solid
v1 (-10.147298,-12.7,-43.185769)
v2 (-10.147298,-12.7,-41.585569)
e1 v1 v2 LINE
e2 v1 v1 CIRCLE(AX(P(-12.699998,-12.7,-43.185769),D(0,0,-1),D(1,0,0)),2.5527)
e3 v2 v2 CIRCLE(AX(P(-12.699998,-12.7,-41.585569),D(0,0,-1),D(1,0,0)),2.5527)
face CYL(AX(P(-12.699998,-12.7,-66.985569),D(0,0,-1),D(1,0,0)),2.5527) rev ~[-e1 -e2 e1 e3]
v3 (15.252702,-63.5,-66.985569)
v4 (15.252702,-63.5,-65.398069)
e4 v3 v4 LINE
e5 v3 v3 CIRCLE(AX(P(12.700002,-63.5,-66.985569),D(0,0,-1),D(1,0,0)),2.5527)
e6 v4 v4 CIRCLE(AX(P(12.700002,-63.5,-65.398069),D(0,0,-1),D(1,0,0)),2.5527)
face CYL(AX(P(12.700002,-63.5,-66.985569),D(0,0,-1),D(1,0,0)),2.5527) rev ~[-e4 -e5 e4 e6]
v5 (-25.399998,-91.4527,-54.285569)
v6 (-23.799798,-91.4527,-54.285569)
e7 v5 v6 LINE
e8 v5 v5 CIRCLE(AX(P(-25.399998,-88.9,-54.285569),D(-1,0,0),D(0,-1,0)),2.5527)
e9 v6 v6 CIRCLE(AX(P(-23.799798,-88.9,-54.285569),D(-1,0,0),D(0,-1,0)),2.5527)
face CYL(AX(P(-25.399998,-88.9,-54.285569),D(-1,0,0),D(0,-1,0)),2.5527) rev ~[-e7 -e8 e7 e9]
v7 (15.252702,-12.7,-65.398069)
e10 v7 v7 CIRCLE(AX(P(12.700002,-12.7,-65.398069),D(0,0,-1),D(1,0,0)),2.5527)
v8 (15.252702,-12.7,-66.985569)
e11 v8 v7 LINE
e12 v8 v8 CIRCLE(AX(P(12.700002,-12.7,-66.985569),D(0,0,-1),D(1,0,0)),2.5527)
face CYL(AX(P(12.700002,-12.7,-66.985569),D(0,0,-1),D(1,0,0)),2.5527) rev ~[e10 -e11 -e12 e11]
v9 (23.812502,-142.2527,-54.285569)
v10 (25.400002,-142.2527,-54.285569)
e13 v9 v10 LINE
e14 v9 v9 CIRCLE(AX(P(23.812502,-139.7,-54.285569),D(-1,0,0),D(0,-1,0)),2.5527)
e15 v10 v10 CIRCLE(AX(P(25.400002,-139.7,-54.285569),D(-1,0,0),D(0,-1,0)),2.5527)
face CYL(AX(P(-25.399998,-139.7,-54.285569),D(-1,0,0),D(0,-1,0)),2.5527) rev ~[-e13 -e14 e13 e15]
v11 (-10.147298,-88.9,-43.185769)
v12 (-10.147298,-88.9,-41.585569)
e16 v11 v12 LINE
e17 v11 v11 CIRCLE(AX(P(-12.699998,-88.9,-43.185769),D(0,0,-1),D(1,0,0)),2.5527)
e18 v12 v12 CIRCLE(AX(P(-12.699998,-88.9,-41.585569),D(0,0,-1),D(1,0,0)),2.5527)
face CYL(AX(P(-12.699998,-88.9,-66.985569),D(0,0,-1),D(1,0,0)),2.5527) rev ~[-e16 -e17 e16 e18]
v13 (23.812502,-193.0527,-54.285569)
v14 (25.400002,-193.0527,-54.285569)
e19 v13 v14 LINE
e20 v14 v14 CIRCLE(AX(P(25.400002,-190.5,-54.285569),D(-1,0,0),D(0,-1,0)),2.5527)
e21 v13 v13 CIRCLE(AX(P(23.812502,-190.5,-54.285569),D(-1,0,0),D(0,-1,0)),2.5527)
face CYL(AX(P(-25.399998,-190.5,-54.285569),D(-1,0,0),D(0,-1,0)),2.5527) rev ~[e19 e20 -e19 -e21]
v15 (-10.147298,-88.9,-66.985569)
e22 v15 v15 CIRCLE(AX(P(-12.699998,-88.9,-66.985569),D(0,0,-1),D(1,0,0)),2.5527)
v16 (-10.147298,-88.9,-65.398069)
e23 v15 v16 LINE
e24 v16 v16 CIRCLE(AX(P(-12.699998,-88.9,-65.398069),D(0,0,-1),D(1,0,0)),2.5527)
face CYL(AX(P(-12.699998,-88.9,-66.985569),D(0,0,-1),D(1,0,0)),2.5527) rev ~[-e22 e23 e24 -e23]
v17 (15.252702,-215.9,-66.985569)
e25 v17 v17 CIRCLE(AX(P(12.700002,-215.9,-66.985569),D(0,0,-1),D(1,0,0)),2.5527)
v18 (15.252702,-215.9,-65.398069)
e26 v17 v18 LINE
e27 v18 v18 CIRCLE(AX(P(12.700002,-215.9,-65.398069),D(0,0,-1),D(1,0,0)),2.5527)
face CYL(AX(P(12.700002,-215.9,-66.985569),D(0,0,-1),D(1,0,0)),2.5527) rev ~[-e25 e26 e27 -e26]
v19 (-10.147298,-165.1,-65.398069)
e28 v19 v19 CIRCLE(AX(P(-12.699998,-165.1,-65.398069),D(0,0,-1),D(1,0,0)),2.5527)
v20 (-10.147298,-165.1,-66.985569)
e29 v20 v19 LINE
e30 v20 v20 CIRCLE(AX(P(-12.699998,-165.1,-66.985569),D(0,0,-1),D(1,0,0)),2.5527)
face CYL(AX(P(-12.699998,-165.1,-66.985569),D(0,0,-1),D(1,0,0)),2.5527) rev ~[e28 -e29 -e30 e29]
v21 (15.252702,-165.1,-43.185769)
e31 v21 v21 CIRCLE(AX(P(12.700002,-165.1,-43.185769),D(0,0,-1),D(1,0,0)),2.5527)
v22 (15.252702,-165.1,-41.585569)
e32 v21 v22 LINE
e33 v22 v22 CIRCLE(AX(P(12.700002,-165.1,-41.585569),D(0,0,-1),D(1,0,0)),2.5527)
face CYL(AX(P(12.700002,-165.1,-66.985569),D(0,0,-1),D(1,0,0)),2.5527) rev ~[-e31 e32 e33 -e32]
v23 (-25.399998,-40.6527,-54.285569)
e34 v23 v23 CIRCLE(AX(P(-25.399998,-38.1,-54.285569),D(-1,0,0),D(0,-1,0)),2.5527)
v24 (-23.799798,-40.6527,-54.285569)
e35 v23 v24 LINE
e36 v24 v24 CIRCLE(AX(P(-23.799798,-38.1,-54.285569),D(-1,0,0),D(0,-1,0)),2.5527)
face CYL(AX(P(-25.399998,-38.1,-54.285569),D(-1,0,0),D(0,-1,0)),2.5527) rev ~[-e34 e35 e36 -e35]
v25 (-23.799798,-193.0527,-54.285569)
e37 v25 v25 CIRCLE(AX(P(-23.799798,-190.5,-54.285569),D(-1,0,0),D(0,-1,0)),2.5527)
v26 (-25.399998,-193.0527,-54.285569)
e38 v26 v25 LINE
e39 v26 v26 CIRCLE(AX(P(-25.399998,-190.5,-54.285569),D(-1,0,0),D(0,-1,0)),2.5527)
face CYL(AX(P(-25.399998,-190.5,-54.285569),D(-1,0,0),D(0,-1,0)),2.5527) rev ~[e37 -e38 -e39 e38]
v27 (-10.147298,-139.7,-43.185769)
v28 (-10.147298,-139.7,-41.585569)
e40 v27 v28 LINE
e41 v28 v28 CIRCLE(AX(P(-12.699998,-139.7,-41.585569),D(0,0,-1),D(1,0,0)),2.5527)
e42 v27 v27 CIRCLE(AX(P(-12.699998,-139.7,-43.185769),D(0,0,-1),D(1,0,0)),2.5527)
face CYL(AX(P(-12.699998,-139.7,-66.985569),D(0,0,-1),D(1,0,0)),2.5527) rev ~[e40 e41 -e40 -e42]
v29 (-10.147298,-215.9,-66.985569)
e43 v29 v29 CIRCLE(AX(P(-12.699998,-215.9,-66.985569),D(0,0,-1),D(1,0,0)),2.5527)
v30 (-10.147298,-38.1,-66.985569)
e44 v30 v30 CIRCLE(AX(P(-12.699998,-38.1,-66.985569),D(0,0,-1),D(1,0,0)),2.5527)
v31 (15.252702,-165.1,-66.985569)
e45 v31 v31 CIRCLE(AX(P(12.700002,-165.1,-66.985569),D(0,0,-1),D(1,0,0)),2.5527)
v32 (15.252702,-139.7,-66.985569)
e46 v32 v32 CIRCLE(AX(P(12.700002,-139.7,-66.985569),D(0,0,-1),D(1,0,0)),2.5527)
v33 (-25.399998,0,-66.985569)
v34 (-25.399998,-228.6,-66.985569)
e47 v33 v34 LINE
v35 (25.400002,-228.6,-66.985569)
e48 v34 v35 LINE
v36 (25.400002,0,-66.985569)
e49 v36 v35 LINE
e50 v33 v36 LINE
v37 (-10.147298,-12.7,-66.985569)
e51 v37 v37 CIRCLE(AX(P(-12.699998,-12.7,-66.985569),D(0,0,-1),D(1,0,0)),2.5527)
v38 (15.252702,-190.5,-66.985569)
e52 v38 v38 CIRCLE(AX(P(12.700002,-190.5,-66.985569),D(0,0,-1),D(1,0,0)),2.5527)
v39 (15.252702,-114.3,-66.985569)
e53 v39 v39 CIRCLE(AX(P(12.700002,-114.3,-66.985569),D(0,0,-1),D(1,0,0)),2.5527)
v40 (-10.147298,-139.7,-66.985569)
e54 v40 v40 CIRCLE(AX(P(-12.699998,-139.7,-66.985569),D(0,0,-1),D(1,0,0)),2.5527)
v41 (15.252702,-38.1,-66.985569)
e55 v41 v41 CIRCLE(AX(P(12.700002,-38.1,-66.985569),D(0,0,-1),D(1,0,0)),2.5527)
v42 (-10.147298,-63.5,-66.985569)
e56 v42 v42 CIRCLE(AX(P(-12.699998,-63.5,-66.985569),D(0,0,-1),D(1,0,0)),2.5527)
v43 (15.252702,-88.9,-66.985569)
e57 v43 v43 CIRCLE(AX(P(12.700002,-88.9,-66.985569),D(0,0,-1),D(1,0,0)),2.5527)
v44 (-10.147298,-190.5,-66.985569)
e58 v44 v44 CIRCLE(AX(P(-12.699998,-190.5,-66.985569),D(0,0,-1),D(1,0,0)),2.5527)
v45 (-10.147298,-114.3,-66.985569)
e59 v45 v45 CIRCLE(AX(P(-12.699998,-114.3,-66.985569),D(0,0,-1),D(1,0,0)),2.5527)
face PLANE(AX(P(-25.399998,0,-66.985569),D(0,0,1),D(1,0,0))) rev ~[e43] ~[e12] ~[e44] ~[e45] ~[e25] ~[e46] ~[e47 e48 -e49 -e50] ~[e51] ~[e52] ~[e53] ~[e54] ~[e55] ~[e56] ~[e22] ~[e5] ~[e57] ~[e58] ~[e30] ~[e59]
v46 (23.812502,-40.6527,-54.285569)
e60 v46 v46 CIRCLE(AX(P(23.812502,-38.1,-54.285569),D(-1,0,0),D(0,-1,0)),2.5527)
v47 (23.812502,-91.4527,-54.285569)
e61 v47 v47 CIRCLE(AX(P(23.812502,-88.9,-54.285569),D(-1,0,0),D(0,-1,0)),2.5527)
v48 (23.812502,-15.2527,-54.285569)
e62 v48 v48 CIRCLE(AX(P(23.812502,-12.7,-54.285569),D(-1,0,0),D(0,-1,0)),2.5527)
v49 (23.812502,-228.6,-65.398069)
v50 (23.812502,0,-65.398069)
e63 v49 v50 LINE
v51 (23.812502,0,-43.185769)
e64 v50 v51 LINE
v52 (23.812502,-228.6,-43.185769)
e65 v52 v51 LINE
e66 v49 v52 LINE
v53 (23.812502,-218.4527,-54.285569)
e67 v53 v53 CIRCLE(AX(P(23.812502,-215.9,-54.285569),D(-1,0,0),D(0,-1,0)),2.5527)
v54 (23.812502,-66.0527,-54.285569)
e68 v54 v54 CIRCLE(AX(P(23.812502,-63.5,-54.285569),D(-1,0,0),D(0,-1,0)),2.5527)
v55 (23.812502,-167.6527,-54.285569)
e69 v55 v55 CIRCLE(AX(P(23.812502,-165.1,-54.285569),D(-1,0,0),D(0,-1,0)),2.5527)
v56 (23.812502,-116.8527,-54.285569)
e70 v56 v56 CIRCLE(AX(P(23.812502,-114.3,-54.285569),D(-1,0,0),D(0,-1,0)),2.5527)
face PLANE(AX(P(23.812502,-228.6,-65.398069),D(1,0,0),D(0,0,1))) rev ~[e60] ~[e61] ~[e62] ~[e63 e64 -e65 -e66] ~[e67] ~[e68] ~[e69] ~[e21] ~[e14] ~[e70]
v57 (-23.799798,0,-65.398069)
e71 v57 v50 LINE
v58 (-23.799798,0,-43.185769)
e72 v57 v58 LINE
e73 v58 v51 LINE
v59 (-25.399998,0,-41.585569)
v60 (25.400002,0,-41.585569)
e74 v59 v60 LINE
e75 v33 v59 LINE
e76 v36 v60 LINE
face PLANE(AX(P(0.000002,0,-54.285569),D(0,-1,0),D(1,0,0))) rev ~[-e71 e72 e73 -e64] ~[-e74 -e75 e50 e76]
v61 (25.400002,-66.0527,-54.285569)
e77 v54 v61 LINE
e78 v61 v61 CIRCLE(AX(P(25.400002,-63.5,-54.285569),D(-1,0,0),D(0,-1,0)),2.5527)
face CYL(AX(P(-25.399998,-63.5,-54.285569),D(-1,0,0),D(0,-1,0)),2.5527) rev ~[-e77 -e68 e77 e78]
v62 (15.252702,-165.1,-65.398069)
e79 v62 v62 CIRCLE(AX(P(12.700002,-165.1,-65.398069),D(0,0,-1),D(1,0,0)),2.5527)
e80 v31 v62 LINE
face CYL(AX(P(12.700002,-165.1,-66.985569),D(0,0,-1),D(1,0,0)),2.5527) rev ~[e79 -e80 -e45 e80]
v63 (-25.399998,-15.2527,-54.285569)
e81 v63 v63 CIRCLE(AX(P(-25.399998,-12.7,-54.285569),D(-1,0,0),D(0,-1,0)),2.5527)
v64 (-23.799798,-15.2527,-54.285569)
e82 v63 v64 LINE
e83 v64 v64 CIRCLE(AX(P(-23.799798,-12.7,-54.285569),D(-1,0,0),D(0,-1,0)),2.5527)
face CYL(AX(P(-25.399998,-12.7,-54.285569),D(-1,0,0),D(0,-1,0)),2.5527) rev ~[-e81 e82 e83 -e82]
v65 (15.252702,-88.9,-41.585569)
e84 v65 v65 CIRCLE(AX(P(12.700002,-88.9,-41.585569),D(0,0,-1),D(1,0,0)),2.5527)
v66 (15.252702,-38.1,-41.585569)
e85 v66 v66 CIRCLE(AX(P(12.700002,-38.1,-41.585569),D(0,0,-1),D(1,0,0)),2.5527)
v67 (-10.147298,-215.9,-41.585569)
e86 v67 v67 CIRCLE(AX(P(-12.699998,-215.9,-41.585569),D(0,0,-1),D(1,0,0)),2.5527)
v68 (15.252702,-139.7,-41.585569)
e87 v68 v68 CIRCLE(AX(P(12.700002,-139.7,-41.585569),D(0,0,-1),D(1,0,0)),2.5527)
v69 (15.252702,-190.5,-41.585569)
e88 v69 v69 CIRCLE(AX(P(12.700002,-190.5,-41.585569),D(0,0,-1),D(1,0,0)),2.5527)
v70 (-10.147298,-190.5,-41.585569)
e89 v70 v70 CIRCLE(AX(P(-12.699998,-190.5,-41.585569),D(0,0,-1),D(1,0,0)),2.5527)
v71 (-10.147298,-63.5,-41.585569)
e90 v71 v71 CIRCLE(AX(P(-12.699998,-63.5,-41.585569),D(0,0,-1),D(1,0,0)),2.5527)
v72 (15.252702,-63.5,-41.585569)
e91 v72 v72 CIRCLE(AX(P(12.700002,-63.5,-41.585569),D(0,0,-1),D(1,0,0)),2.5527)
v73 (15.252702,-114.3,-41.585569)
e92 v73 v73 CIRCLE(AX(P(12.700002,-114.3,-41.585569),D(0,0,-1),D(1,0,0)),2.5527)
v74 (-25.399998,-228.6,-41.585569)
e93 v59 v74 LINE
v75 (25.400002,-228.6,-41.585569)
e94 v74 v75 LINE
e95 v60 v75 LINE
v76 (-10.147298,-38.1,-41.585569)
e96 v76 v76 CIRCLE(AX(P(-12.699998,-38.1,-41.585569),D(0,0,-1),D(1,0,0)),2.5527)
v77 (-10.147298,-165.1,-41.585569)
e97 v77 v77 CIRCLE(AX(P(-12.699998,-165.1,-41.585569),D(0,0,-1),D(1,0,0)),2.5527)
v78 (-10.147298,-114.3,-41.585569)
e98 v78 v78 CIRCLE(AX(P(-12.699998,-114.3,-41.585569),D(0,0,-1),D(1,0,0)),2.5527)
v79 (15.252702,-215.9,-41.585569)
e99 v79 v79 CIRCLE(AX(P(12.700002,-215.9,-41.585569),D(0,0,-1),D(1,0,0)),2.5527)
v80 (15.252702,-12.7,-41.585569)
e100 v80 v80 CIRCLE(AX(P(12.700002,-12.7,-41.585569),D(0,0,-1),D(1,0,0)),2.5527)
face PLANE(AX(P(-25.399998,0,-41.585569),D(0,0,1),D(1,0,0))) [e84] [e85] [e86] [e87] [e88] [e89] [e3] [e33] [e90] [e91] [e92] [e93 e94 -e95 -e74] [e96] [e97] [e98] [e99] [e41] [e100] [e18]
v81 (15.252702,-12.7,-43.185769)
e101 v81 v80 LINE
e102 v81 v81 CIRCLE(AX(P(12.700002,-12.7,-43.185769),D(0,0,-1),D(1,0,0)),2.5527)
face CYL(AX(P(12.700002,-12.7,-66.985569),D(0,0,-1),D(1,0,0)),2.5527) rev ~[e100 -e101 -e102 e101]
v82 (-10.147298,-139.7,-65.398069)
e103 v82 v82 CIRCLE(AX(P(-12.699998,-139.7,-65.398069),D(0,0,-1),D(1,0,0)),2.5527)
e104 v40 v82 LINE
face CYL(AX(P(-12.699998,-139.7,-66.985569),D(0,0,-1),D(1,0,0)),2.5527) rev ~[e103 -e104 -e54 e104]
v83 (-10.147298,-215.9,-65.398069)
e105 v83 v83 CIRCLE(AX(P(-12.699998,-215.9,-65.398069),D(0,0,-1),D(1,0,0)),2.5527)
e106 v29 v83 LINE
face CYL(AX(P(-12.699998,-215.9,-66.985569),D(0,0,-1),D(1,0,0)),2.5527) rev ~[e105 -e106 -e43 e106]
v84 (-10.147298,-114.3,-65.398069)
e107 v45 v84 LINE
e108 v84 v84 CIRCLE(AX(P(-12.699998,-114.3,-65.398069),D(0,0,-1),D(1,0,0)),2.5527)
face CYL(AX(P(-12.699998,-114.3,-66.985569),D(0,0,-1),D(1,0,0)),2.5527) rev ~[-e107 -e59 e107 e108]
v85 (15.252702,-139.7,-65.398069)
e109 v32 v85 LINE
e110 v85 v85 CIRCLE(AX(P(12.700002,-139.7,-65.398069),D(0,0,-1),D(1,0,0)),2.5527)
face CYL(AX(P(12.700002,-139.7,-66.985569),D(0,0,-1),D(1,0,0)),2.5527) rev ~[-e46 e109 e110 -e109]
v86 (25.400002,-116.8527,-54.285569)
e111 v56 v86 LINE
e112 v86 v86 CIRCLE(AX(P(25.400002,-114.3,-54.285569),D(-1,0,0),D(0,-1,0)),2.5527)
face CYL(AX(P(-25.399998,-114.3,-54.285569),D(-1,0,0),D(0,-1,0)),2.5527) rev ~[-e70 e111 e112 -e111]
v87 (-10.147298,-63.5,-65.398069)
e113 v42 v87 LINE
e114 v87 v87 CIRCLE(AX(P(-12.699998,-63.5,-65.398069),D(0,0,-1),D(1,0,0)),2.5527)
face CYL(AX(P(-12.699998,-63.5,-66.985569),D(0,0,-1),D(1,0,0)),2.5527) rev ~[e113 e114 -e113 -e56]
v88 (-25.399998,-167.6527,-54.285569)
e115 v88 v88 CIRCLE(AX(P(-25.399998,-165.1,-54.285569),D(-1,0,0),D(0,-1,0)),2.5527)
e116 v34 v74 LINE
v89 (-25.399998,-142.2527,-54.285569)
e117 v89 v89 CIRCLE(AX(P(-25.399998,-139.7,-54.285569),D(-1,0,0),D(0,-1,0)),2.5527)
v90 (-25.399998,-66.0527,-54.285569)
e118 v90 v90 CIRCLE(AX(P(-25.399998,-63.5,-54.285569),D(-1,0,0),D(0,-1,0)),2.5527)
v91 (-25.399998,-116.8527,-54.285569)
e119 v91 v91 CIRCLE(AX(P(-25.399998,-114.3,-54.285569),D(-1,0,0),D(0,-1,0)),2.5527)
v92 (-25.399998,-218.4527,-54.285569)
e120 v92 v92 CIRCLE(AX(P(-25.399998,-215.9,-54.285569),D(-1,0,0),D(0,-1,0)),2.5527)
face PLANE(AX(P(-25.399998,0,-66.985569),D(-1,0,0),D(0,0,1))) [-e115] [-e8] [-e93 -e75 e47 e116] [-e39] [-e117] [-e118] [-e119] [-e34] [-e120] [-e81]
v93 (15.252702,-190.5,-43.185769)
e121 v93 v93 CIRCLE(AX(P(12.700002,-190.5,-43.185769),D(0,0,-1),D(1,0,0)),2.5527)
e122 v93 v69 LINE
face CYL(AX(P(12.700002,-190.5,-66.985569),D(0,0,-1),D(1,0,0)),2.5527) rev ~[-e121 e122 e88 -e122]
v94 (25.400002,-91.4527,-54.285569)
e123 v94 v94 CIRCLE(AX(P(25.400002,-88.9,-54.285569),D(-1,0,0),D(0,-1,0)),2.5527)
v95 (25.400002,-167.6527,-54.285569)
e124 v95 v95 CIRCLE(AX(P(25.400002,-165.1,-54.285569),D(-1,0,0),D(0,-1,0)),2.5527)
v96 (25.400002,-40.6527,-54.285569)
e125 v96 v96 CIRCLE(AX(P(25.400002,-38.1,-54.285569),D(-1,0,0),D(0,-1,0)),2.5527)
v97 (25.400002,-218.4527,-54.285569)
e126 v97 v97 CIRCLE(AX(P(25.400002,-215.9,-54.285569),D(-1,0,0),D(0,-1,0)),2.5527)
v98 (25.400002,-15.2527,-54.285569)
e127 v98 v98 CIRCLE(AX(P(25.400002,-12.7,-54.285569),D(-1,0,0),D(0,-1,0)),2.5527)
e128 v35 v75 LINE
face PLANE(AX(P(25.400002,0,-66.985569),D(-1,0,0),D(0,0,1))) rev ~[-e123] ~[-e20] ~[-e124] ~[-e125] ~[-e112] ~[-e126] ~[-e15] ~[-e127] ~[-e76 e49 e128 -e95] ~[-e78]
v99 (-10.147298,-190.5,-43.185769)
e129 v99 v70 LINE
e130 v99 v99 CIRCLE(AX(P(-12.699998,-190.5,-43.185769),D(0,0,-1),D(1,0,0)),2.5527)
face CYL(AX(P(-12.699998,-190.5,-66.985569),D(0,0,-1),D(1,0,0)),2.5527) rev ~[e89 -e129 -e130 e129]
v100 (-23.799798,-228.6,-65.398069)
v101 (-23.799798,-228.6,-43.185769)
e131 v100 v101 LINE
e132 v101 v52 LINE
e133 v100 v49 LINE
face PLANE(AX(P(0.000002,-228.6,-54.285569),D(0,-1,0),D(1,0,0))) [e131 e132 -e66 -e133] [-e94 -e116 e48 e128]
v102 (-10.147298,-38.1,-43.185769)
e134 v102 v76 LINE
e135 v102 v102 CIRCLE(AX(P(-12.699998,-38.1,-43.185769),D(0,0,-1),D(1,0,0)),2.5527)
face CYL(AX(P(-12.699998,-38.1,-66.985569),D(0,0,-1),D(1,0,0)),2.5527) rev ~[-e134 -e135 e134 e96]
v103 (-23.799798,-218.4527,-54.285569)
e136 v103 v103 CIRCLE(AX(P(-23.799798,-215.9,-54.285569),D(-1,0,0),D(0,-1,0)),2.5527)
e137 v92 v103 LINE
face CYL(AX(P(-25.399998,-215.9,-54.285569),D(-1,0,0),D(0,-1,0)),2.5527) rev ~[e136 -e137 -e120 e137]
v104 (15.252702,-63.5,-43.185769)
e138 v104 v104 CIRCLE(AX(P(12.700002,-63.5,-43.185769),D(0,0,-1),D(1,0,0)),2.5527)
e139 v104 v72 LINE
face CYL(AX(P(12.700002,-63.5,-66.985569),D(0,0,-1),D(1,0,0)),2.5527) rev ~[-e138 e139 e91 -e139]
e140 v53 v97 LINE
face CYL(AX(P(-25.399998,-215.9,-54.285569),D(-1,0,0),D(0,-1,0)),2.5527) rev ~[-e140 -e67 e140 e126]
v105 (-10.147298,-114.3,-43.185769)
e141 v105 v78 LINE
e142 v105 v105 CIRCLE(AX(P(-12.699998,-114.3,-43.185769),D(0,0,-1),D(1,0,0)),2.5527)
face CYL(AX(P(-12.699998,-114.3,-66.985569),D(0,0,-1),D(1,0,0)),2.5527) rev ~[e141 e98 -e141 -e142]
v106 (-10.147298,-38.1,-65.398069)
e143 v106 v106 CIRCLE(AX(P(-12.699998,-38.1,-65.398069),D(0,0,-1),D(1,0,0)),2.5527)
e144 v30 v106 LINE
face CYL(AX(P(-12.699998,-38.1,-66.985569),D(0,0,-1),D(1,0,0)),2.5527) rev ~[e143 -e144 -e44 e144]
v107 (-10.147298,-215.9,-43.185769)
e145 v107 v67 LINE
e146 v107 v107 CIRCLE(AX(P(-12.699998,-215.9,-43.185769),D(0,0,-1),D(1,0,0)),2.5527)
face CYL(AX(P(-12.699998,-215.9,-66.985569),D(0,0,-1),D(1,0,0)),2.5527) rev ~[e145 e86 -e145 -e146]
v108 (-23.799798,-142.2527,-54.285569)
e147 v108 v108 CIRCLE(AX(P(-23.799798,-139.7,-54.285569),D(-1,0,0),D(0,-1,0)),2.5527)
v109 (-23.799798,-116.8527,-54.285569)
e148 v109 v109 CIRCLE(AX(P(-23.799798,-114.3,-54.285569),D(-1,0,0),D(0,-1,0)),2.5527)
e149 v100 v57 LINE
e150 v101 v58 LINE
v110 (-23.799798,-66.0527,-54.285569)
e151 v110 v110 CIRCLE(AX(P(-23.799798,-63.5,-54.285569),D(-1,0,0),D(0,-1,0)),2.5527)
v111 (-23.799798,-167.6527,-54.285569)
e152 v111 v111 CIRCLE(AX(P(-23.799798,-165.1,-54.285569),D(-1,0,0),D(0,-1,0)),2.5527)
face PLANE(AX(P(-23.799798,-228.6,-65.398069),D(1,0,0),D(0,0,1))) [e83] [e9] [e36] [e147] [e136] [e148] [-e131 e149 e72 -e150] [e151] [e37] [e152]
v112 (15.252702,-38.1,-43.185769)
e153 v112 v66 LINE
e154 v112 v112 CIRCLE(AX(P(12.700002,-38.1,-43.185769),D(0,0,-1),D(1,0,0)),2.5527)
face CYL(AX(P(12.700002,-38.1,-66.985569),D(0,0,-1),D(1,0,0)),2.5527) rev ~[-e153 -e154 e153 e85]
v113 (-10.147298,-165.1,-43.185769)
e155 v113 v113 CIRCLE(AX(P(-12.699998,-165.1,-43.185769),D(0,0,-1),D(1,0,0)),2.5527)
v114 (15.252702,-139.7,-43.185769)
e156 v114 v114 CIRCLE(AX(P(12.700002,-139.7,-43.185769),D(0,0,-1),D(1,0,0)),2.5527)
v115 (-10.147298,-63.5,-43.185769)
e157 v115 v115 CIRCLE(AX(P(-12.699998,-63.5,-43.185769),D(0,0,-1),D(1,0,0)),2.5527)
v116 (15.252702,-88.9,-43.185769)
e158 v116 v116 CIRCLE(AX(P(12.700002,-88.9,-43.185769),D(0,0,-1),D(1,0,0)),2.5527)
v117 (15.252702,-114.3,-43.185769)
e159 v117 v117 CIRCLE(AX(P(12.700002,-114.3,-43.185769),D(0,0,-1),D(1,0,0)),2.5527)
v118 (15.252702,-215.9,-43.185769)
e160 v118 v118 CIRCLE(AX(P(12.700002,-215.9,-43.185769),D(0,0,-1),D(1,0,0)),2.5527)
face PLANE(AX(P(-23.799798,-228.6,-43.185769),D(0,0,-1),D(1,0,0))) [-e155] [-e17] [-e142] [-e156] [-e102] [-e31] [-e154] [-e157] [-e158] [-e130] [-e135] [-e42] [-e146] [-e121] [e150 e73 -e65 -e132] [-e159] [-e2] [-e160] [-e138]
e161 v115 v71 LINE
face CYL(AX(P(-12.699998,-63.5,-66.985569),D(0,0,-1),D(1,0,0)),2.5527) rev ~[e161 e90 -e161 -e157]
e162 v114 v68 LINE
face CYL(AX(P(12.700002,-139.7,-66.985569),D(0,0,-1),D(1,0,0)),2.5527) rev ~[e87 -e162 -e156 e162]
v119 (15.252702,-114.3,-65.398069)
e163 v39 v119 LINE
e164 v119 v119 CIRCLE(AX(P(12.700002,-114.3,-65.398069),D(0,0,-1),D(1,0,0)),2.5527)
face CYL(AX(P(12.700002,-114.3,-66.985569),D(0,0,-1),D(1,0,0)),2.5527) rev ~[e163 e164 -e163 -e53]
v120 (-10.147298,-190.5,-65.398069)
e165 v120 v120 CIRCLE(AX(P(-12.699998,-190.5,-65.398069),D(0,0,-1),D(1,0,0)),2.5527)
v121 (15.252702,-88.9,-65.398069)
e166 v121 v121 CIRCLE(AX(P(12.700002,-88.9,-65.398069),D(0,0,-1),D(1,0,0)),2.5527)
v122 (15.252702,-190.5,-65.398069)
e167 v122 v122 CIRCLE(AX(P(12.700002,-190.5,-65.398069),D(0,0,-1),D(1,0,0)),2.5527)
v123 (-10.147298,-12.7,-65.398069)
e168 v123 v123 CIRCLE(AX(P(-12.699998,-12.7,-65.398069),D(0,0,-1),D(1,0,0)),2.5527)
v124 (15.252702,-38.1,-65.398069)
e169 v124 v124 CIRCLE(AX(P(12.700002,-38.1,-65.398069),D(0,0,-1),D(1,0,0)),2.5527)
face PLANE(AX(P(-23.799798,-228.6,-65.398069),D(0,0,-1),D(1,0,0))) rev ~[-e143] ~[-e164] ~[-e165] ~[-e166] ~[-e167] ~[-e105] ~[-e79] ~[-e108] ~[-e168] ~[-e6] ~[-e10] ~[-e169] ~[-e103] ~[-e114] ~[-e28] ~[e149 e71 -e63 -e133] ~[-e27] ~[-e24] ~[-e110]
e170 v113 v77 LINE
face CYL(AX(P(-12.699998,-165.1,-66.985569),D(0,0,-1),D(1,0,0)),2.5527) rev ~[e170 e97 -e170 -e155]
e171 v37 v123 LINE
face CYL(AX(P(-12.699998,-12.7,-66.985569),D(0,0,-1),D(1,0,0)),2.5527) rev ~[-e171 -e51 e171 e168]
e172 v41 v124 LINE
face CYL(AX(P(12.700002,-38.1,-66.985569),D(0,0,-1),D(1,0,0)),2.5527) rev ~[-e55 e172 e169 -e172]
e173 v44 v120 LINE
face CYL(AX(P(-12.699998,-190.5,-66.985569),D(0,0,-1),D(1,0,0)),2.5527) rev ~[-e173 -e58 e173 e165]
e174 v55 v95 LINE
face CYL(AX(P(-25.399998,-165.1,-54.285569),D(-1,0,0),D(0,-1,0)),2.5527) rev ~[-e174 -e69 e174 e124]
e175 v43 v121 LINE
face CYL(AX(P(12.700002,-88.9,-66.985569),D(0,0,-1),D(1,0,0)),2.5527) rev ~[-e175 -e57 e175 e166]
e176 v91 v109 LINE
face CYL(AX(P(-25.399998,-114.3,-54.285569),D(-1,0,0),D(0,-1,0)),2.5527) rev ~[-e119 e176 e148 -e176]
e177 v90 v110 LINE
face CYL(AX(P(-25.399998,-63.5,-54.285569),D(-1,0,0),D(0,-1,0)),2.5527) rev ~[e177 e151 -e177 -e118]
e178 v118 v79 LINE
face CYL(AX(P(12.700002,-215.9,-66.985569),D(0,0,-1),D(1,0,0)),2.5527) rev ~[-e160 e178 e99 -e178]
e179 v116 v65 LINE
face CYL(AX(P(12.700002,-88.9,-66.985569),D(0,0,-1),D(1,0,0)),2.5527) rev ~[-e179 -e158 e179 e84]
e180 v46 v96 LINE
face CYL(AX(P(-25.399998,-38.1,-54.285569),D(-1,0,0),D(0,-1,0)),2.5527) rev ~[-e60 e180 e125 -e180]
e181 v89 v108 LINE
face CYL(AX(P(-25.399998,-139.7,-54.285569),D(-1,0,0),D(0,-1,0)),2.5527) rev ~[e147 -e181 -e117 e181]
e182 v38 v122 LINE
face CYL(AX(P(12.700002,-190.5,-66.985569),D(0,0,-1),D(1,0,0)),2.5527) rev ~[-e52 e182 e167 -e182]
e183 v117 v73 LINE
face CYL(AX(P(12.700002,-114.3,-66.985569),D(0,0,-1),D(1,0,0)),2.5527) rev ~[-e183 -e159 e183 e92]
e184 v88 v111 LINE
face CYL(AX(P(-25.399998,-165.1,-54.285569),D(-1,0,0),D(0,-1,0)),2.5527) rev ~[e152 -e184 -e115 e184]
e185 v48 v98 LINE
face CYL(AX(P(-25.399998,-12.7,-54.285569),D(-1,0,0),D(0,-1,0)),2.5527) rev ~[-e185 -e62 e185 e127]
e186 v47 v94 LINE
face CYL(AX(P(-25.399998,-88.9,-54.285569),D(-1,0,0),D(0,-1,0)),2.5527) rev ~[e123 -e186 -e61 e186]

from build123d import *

# Parameters (mm, degrees)
F0_W     = 50.8
F0_H     = 25.4
F1_DEPTH = 228.6
F2_R     = 2.5527
F3_DEPTH = 76.2
F4_W     = 47.6123
F4_H     = 22.2123
F5_DEPTH = 508
F6_R     = 2.5527
F7_DEPTH = 508


with BuildPart() as f1:
    # F0 (on Front) → F1 (new body)
    with BuildSketch(Plane.XZ):
        with Locations((2e-06, -54.285569)):
            Rectangle(F0_W, F0_H)
    extrude(amount=F1_DEPTH)

    # F2 (on face) → F3 (cut)
    with BuildSketch(Plane(origin=(0, 0, -66.985569), x_dir=(1, 0, 0), z_dir=(0, 0, -1))):
        with Locations((-12.699998, 215.9)):
            Circle(F2_R)
        with Locations((-12.699998, 190.5)):
            Circle(F2_R)
        with Locations((-12.699998, 165.1)):
            Circle(F2_R)
        with Locations((-12.699998, 139.7)):
            Circle(F2_R)
        with Locations((-12.699998, 114.3)):
            Circle(F2_R)
        with Locations((-12.699998, 88.9)):
            Circle(F2_R)
        with Locations((12.700002, 215.9)):
            Circle(F2_R)
        with Locations((12.700002, 190.5)):
            Circle(F2_R)
        with Locations((12.700002, 165.1)):
            Circle(F2_R)
        with Locations((12.700002, 139.7)):
            Circle(F2_R)
        with Locations((12.700002, 114.3)):
            Circle(F2_R)
        with Locations((12.700002, 88.9)):
            Circle(F2_R)
        with Locations((-12.699998, 63.5)):
            Circle(F2_R)
        with Locations((12.700002, 63.5)):
            Circle(F2_R)
        with Locations((-12.699998, 38.1)):
            Circle(F2_R)
        with Locations((12.700002, 38.1)):
            Circle(F2_R)
        with Locations((-12.699998, 12.7)):
            Circle(F2_R)
        with Locations((12.700002, 12.7)):
            Circle(F2_R)
    extrude(amount=-F3_DEPTH, mode=Mode.SUBTRACT)

    # F4 (on face) → F5 (cut)
    with BuildSketch(Plane.XZ.offset(228.6)):
        with Locations((0.006352, -54.291919)):
            Rectangle(F4_W, F4_H)
    extrude(amount=-F5_DEPTH, mode=Mode.SUBTRACT)

    # F6 (on face) → F7 (cut)
    with BuildSketch(Plane(origin=(-25.399998, 0, 0), x_dir=(0, -1, 0), z_dir=(-1, 0, 0))):
        with Locations((215.9, -54.285569)):
            Circle(F6_R)
        with Locations((190.5, -54.285569)):
            Circle(F6_R)
        with Locations((165.1, -54.285569)):
            Circle(F6_R)
        with Locations((139.7, -54.285569)):
            Circle(F6_R)
        with Locations((114.3, -54.285569)):
            Circle(F6_R)
        with Locations((88.9, -54.285569)):
            Circle(F6_R)
        with Locations((63.5, -54.285569)):
            Circle(F6_R)
        with Locations((38.1, -54.285569)):
            Circle(F6_R)
        with Locations((12.7, -54.285569)):
            Circle(F6_R)
    extrude(amount=-F7_DEPTH, mode=Mode.SUBTRACT)


solid = f1.part
